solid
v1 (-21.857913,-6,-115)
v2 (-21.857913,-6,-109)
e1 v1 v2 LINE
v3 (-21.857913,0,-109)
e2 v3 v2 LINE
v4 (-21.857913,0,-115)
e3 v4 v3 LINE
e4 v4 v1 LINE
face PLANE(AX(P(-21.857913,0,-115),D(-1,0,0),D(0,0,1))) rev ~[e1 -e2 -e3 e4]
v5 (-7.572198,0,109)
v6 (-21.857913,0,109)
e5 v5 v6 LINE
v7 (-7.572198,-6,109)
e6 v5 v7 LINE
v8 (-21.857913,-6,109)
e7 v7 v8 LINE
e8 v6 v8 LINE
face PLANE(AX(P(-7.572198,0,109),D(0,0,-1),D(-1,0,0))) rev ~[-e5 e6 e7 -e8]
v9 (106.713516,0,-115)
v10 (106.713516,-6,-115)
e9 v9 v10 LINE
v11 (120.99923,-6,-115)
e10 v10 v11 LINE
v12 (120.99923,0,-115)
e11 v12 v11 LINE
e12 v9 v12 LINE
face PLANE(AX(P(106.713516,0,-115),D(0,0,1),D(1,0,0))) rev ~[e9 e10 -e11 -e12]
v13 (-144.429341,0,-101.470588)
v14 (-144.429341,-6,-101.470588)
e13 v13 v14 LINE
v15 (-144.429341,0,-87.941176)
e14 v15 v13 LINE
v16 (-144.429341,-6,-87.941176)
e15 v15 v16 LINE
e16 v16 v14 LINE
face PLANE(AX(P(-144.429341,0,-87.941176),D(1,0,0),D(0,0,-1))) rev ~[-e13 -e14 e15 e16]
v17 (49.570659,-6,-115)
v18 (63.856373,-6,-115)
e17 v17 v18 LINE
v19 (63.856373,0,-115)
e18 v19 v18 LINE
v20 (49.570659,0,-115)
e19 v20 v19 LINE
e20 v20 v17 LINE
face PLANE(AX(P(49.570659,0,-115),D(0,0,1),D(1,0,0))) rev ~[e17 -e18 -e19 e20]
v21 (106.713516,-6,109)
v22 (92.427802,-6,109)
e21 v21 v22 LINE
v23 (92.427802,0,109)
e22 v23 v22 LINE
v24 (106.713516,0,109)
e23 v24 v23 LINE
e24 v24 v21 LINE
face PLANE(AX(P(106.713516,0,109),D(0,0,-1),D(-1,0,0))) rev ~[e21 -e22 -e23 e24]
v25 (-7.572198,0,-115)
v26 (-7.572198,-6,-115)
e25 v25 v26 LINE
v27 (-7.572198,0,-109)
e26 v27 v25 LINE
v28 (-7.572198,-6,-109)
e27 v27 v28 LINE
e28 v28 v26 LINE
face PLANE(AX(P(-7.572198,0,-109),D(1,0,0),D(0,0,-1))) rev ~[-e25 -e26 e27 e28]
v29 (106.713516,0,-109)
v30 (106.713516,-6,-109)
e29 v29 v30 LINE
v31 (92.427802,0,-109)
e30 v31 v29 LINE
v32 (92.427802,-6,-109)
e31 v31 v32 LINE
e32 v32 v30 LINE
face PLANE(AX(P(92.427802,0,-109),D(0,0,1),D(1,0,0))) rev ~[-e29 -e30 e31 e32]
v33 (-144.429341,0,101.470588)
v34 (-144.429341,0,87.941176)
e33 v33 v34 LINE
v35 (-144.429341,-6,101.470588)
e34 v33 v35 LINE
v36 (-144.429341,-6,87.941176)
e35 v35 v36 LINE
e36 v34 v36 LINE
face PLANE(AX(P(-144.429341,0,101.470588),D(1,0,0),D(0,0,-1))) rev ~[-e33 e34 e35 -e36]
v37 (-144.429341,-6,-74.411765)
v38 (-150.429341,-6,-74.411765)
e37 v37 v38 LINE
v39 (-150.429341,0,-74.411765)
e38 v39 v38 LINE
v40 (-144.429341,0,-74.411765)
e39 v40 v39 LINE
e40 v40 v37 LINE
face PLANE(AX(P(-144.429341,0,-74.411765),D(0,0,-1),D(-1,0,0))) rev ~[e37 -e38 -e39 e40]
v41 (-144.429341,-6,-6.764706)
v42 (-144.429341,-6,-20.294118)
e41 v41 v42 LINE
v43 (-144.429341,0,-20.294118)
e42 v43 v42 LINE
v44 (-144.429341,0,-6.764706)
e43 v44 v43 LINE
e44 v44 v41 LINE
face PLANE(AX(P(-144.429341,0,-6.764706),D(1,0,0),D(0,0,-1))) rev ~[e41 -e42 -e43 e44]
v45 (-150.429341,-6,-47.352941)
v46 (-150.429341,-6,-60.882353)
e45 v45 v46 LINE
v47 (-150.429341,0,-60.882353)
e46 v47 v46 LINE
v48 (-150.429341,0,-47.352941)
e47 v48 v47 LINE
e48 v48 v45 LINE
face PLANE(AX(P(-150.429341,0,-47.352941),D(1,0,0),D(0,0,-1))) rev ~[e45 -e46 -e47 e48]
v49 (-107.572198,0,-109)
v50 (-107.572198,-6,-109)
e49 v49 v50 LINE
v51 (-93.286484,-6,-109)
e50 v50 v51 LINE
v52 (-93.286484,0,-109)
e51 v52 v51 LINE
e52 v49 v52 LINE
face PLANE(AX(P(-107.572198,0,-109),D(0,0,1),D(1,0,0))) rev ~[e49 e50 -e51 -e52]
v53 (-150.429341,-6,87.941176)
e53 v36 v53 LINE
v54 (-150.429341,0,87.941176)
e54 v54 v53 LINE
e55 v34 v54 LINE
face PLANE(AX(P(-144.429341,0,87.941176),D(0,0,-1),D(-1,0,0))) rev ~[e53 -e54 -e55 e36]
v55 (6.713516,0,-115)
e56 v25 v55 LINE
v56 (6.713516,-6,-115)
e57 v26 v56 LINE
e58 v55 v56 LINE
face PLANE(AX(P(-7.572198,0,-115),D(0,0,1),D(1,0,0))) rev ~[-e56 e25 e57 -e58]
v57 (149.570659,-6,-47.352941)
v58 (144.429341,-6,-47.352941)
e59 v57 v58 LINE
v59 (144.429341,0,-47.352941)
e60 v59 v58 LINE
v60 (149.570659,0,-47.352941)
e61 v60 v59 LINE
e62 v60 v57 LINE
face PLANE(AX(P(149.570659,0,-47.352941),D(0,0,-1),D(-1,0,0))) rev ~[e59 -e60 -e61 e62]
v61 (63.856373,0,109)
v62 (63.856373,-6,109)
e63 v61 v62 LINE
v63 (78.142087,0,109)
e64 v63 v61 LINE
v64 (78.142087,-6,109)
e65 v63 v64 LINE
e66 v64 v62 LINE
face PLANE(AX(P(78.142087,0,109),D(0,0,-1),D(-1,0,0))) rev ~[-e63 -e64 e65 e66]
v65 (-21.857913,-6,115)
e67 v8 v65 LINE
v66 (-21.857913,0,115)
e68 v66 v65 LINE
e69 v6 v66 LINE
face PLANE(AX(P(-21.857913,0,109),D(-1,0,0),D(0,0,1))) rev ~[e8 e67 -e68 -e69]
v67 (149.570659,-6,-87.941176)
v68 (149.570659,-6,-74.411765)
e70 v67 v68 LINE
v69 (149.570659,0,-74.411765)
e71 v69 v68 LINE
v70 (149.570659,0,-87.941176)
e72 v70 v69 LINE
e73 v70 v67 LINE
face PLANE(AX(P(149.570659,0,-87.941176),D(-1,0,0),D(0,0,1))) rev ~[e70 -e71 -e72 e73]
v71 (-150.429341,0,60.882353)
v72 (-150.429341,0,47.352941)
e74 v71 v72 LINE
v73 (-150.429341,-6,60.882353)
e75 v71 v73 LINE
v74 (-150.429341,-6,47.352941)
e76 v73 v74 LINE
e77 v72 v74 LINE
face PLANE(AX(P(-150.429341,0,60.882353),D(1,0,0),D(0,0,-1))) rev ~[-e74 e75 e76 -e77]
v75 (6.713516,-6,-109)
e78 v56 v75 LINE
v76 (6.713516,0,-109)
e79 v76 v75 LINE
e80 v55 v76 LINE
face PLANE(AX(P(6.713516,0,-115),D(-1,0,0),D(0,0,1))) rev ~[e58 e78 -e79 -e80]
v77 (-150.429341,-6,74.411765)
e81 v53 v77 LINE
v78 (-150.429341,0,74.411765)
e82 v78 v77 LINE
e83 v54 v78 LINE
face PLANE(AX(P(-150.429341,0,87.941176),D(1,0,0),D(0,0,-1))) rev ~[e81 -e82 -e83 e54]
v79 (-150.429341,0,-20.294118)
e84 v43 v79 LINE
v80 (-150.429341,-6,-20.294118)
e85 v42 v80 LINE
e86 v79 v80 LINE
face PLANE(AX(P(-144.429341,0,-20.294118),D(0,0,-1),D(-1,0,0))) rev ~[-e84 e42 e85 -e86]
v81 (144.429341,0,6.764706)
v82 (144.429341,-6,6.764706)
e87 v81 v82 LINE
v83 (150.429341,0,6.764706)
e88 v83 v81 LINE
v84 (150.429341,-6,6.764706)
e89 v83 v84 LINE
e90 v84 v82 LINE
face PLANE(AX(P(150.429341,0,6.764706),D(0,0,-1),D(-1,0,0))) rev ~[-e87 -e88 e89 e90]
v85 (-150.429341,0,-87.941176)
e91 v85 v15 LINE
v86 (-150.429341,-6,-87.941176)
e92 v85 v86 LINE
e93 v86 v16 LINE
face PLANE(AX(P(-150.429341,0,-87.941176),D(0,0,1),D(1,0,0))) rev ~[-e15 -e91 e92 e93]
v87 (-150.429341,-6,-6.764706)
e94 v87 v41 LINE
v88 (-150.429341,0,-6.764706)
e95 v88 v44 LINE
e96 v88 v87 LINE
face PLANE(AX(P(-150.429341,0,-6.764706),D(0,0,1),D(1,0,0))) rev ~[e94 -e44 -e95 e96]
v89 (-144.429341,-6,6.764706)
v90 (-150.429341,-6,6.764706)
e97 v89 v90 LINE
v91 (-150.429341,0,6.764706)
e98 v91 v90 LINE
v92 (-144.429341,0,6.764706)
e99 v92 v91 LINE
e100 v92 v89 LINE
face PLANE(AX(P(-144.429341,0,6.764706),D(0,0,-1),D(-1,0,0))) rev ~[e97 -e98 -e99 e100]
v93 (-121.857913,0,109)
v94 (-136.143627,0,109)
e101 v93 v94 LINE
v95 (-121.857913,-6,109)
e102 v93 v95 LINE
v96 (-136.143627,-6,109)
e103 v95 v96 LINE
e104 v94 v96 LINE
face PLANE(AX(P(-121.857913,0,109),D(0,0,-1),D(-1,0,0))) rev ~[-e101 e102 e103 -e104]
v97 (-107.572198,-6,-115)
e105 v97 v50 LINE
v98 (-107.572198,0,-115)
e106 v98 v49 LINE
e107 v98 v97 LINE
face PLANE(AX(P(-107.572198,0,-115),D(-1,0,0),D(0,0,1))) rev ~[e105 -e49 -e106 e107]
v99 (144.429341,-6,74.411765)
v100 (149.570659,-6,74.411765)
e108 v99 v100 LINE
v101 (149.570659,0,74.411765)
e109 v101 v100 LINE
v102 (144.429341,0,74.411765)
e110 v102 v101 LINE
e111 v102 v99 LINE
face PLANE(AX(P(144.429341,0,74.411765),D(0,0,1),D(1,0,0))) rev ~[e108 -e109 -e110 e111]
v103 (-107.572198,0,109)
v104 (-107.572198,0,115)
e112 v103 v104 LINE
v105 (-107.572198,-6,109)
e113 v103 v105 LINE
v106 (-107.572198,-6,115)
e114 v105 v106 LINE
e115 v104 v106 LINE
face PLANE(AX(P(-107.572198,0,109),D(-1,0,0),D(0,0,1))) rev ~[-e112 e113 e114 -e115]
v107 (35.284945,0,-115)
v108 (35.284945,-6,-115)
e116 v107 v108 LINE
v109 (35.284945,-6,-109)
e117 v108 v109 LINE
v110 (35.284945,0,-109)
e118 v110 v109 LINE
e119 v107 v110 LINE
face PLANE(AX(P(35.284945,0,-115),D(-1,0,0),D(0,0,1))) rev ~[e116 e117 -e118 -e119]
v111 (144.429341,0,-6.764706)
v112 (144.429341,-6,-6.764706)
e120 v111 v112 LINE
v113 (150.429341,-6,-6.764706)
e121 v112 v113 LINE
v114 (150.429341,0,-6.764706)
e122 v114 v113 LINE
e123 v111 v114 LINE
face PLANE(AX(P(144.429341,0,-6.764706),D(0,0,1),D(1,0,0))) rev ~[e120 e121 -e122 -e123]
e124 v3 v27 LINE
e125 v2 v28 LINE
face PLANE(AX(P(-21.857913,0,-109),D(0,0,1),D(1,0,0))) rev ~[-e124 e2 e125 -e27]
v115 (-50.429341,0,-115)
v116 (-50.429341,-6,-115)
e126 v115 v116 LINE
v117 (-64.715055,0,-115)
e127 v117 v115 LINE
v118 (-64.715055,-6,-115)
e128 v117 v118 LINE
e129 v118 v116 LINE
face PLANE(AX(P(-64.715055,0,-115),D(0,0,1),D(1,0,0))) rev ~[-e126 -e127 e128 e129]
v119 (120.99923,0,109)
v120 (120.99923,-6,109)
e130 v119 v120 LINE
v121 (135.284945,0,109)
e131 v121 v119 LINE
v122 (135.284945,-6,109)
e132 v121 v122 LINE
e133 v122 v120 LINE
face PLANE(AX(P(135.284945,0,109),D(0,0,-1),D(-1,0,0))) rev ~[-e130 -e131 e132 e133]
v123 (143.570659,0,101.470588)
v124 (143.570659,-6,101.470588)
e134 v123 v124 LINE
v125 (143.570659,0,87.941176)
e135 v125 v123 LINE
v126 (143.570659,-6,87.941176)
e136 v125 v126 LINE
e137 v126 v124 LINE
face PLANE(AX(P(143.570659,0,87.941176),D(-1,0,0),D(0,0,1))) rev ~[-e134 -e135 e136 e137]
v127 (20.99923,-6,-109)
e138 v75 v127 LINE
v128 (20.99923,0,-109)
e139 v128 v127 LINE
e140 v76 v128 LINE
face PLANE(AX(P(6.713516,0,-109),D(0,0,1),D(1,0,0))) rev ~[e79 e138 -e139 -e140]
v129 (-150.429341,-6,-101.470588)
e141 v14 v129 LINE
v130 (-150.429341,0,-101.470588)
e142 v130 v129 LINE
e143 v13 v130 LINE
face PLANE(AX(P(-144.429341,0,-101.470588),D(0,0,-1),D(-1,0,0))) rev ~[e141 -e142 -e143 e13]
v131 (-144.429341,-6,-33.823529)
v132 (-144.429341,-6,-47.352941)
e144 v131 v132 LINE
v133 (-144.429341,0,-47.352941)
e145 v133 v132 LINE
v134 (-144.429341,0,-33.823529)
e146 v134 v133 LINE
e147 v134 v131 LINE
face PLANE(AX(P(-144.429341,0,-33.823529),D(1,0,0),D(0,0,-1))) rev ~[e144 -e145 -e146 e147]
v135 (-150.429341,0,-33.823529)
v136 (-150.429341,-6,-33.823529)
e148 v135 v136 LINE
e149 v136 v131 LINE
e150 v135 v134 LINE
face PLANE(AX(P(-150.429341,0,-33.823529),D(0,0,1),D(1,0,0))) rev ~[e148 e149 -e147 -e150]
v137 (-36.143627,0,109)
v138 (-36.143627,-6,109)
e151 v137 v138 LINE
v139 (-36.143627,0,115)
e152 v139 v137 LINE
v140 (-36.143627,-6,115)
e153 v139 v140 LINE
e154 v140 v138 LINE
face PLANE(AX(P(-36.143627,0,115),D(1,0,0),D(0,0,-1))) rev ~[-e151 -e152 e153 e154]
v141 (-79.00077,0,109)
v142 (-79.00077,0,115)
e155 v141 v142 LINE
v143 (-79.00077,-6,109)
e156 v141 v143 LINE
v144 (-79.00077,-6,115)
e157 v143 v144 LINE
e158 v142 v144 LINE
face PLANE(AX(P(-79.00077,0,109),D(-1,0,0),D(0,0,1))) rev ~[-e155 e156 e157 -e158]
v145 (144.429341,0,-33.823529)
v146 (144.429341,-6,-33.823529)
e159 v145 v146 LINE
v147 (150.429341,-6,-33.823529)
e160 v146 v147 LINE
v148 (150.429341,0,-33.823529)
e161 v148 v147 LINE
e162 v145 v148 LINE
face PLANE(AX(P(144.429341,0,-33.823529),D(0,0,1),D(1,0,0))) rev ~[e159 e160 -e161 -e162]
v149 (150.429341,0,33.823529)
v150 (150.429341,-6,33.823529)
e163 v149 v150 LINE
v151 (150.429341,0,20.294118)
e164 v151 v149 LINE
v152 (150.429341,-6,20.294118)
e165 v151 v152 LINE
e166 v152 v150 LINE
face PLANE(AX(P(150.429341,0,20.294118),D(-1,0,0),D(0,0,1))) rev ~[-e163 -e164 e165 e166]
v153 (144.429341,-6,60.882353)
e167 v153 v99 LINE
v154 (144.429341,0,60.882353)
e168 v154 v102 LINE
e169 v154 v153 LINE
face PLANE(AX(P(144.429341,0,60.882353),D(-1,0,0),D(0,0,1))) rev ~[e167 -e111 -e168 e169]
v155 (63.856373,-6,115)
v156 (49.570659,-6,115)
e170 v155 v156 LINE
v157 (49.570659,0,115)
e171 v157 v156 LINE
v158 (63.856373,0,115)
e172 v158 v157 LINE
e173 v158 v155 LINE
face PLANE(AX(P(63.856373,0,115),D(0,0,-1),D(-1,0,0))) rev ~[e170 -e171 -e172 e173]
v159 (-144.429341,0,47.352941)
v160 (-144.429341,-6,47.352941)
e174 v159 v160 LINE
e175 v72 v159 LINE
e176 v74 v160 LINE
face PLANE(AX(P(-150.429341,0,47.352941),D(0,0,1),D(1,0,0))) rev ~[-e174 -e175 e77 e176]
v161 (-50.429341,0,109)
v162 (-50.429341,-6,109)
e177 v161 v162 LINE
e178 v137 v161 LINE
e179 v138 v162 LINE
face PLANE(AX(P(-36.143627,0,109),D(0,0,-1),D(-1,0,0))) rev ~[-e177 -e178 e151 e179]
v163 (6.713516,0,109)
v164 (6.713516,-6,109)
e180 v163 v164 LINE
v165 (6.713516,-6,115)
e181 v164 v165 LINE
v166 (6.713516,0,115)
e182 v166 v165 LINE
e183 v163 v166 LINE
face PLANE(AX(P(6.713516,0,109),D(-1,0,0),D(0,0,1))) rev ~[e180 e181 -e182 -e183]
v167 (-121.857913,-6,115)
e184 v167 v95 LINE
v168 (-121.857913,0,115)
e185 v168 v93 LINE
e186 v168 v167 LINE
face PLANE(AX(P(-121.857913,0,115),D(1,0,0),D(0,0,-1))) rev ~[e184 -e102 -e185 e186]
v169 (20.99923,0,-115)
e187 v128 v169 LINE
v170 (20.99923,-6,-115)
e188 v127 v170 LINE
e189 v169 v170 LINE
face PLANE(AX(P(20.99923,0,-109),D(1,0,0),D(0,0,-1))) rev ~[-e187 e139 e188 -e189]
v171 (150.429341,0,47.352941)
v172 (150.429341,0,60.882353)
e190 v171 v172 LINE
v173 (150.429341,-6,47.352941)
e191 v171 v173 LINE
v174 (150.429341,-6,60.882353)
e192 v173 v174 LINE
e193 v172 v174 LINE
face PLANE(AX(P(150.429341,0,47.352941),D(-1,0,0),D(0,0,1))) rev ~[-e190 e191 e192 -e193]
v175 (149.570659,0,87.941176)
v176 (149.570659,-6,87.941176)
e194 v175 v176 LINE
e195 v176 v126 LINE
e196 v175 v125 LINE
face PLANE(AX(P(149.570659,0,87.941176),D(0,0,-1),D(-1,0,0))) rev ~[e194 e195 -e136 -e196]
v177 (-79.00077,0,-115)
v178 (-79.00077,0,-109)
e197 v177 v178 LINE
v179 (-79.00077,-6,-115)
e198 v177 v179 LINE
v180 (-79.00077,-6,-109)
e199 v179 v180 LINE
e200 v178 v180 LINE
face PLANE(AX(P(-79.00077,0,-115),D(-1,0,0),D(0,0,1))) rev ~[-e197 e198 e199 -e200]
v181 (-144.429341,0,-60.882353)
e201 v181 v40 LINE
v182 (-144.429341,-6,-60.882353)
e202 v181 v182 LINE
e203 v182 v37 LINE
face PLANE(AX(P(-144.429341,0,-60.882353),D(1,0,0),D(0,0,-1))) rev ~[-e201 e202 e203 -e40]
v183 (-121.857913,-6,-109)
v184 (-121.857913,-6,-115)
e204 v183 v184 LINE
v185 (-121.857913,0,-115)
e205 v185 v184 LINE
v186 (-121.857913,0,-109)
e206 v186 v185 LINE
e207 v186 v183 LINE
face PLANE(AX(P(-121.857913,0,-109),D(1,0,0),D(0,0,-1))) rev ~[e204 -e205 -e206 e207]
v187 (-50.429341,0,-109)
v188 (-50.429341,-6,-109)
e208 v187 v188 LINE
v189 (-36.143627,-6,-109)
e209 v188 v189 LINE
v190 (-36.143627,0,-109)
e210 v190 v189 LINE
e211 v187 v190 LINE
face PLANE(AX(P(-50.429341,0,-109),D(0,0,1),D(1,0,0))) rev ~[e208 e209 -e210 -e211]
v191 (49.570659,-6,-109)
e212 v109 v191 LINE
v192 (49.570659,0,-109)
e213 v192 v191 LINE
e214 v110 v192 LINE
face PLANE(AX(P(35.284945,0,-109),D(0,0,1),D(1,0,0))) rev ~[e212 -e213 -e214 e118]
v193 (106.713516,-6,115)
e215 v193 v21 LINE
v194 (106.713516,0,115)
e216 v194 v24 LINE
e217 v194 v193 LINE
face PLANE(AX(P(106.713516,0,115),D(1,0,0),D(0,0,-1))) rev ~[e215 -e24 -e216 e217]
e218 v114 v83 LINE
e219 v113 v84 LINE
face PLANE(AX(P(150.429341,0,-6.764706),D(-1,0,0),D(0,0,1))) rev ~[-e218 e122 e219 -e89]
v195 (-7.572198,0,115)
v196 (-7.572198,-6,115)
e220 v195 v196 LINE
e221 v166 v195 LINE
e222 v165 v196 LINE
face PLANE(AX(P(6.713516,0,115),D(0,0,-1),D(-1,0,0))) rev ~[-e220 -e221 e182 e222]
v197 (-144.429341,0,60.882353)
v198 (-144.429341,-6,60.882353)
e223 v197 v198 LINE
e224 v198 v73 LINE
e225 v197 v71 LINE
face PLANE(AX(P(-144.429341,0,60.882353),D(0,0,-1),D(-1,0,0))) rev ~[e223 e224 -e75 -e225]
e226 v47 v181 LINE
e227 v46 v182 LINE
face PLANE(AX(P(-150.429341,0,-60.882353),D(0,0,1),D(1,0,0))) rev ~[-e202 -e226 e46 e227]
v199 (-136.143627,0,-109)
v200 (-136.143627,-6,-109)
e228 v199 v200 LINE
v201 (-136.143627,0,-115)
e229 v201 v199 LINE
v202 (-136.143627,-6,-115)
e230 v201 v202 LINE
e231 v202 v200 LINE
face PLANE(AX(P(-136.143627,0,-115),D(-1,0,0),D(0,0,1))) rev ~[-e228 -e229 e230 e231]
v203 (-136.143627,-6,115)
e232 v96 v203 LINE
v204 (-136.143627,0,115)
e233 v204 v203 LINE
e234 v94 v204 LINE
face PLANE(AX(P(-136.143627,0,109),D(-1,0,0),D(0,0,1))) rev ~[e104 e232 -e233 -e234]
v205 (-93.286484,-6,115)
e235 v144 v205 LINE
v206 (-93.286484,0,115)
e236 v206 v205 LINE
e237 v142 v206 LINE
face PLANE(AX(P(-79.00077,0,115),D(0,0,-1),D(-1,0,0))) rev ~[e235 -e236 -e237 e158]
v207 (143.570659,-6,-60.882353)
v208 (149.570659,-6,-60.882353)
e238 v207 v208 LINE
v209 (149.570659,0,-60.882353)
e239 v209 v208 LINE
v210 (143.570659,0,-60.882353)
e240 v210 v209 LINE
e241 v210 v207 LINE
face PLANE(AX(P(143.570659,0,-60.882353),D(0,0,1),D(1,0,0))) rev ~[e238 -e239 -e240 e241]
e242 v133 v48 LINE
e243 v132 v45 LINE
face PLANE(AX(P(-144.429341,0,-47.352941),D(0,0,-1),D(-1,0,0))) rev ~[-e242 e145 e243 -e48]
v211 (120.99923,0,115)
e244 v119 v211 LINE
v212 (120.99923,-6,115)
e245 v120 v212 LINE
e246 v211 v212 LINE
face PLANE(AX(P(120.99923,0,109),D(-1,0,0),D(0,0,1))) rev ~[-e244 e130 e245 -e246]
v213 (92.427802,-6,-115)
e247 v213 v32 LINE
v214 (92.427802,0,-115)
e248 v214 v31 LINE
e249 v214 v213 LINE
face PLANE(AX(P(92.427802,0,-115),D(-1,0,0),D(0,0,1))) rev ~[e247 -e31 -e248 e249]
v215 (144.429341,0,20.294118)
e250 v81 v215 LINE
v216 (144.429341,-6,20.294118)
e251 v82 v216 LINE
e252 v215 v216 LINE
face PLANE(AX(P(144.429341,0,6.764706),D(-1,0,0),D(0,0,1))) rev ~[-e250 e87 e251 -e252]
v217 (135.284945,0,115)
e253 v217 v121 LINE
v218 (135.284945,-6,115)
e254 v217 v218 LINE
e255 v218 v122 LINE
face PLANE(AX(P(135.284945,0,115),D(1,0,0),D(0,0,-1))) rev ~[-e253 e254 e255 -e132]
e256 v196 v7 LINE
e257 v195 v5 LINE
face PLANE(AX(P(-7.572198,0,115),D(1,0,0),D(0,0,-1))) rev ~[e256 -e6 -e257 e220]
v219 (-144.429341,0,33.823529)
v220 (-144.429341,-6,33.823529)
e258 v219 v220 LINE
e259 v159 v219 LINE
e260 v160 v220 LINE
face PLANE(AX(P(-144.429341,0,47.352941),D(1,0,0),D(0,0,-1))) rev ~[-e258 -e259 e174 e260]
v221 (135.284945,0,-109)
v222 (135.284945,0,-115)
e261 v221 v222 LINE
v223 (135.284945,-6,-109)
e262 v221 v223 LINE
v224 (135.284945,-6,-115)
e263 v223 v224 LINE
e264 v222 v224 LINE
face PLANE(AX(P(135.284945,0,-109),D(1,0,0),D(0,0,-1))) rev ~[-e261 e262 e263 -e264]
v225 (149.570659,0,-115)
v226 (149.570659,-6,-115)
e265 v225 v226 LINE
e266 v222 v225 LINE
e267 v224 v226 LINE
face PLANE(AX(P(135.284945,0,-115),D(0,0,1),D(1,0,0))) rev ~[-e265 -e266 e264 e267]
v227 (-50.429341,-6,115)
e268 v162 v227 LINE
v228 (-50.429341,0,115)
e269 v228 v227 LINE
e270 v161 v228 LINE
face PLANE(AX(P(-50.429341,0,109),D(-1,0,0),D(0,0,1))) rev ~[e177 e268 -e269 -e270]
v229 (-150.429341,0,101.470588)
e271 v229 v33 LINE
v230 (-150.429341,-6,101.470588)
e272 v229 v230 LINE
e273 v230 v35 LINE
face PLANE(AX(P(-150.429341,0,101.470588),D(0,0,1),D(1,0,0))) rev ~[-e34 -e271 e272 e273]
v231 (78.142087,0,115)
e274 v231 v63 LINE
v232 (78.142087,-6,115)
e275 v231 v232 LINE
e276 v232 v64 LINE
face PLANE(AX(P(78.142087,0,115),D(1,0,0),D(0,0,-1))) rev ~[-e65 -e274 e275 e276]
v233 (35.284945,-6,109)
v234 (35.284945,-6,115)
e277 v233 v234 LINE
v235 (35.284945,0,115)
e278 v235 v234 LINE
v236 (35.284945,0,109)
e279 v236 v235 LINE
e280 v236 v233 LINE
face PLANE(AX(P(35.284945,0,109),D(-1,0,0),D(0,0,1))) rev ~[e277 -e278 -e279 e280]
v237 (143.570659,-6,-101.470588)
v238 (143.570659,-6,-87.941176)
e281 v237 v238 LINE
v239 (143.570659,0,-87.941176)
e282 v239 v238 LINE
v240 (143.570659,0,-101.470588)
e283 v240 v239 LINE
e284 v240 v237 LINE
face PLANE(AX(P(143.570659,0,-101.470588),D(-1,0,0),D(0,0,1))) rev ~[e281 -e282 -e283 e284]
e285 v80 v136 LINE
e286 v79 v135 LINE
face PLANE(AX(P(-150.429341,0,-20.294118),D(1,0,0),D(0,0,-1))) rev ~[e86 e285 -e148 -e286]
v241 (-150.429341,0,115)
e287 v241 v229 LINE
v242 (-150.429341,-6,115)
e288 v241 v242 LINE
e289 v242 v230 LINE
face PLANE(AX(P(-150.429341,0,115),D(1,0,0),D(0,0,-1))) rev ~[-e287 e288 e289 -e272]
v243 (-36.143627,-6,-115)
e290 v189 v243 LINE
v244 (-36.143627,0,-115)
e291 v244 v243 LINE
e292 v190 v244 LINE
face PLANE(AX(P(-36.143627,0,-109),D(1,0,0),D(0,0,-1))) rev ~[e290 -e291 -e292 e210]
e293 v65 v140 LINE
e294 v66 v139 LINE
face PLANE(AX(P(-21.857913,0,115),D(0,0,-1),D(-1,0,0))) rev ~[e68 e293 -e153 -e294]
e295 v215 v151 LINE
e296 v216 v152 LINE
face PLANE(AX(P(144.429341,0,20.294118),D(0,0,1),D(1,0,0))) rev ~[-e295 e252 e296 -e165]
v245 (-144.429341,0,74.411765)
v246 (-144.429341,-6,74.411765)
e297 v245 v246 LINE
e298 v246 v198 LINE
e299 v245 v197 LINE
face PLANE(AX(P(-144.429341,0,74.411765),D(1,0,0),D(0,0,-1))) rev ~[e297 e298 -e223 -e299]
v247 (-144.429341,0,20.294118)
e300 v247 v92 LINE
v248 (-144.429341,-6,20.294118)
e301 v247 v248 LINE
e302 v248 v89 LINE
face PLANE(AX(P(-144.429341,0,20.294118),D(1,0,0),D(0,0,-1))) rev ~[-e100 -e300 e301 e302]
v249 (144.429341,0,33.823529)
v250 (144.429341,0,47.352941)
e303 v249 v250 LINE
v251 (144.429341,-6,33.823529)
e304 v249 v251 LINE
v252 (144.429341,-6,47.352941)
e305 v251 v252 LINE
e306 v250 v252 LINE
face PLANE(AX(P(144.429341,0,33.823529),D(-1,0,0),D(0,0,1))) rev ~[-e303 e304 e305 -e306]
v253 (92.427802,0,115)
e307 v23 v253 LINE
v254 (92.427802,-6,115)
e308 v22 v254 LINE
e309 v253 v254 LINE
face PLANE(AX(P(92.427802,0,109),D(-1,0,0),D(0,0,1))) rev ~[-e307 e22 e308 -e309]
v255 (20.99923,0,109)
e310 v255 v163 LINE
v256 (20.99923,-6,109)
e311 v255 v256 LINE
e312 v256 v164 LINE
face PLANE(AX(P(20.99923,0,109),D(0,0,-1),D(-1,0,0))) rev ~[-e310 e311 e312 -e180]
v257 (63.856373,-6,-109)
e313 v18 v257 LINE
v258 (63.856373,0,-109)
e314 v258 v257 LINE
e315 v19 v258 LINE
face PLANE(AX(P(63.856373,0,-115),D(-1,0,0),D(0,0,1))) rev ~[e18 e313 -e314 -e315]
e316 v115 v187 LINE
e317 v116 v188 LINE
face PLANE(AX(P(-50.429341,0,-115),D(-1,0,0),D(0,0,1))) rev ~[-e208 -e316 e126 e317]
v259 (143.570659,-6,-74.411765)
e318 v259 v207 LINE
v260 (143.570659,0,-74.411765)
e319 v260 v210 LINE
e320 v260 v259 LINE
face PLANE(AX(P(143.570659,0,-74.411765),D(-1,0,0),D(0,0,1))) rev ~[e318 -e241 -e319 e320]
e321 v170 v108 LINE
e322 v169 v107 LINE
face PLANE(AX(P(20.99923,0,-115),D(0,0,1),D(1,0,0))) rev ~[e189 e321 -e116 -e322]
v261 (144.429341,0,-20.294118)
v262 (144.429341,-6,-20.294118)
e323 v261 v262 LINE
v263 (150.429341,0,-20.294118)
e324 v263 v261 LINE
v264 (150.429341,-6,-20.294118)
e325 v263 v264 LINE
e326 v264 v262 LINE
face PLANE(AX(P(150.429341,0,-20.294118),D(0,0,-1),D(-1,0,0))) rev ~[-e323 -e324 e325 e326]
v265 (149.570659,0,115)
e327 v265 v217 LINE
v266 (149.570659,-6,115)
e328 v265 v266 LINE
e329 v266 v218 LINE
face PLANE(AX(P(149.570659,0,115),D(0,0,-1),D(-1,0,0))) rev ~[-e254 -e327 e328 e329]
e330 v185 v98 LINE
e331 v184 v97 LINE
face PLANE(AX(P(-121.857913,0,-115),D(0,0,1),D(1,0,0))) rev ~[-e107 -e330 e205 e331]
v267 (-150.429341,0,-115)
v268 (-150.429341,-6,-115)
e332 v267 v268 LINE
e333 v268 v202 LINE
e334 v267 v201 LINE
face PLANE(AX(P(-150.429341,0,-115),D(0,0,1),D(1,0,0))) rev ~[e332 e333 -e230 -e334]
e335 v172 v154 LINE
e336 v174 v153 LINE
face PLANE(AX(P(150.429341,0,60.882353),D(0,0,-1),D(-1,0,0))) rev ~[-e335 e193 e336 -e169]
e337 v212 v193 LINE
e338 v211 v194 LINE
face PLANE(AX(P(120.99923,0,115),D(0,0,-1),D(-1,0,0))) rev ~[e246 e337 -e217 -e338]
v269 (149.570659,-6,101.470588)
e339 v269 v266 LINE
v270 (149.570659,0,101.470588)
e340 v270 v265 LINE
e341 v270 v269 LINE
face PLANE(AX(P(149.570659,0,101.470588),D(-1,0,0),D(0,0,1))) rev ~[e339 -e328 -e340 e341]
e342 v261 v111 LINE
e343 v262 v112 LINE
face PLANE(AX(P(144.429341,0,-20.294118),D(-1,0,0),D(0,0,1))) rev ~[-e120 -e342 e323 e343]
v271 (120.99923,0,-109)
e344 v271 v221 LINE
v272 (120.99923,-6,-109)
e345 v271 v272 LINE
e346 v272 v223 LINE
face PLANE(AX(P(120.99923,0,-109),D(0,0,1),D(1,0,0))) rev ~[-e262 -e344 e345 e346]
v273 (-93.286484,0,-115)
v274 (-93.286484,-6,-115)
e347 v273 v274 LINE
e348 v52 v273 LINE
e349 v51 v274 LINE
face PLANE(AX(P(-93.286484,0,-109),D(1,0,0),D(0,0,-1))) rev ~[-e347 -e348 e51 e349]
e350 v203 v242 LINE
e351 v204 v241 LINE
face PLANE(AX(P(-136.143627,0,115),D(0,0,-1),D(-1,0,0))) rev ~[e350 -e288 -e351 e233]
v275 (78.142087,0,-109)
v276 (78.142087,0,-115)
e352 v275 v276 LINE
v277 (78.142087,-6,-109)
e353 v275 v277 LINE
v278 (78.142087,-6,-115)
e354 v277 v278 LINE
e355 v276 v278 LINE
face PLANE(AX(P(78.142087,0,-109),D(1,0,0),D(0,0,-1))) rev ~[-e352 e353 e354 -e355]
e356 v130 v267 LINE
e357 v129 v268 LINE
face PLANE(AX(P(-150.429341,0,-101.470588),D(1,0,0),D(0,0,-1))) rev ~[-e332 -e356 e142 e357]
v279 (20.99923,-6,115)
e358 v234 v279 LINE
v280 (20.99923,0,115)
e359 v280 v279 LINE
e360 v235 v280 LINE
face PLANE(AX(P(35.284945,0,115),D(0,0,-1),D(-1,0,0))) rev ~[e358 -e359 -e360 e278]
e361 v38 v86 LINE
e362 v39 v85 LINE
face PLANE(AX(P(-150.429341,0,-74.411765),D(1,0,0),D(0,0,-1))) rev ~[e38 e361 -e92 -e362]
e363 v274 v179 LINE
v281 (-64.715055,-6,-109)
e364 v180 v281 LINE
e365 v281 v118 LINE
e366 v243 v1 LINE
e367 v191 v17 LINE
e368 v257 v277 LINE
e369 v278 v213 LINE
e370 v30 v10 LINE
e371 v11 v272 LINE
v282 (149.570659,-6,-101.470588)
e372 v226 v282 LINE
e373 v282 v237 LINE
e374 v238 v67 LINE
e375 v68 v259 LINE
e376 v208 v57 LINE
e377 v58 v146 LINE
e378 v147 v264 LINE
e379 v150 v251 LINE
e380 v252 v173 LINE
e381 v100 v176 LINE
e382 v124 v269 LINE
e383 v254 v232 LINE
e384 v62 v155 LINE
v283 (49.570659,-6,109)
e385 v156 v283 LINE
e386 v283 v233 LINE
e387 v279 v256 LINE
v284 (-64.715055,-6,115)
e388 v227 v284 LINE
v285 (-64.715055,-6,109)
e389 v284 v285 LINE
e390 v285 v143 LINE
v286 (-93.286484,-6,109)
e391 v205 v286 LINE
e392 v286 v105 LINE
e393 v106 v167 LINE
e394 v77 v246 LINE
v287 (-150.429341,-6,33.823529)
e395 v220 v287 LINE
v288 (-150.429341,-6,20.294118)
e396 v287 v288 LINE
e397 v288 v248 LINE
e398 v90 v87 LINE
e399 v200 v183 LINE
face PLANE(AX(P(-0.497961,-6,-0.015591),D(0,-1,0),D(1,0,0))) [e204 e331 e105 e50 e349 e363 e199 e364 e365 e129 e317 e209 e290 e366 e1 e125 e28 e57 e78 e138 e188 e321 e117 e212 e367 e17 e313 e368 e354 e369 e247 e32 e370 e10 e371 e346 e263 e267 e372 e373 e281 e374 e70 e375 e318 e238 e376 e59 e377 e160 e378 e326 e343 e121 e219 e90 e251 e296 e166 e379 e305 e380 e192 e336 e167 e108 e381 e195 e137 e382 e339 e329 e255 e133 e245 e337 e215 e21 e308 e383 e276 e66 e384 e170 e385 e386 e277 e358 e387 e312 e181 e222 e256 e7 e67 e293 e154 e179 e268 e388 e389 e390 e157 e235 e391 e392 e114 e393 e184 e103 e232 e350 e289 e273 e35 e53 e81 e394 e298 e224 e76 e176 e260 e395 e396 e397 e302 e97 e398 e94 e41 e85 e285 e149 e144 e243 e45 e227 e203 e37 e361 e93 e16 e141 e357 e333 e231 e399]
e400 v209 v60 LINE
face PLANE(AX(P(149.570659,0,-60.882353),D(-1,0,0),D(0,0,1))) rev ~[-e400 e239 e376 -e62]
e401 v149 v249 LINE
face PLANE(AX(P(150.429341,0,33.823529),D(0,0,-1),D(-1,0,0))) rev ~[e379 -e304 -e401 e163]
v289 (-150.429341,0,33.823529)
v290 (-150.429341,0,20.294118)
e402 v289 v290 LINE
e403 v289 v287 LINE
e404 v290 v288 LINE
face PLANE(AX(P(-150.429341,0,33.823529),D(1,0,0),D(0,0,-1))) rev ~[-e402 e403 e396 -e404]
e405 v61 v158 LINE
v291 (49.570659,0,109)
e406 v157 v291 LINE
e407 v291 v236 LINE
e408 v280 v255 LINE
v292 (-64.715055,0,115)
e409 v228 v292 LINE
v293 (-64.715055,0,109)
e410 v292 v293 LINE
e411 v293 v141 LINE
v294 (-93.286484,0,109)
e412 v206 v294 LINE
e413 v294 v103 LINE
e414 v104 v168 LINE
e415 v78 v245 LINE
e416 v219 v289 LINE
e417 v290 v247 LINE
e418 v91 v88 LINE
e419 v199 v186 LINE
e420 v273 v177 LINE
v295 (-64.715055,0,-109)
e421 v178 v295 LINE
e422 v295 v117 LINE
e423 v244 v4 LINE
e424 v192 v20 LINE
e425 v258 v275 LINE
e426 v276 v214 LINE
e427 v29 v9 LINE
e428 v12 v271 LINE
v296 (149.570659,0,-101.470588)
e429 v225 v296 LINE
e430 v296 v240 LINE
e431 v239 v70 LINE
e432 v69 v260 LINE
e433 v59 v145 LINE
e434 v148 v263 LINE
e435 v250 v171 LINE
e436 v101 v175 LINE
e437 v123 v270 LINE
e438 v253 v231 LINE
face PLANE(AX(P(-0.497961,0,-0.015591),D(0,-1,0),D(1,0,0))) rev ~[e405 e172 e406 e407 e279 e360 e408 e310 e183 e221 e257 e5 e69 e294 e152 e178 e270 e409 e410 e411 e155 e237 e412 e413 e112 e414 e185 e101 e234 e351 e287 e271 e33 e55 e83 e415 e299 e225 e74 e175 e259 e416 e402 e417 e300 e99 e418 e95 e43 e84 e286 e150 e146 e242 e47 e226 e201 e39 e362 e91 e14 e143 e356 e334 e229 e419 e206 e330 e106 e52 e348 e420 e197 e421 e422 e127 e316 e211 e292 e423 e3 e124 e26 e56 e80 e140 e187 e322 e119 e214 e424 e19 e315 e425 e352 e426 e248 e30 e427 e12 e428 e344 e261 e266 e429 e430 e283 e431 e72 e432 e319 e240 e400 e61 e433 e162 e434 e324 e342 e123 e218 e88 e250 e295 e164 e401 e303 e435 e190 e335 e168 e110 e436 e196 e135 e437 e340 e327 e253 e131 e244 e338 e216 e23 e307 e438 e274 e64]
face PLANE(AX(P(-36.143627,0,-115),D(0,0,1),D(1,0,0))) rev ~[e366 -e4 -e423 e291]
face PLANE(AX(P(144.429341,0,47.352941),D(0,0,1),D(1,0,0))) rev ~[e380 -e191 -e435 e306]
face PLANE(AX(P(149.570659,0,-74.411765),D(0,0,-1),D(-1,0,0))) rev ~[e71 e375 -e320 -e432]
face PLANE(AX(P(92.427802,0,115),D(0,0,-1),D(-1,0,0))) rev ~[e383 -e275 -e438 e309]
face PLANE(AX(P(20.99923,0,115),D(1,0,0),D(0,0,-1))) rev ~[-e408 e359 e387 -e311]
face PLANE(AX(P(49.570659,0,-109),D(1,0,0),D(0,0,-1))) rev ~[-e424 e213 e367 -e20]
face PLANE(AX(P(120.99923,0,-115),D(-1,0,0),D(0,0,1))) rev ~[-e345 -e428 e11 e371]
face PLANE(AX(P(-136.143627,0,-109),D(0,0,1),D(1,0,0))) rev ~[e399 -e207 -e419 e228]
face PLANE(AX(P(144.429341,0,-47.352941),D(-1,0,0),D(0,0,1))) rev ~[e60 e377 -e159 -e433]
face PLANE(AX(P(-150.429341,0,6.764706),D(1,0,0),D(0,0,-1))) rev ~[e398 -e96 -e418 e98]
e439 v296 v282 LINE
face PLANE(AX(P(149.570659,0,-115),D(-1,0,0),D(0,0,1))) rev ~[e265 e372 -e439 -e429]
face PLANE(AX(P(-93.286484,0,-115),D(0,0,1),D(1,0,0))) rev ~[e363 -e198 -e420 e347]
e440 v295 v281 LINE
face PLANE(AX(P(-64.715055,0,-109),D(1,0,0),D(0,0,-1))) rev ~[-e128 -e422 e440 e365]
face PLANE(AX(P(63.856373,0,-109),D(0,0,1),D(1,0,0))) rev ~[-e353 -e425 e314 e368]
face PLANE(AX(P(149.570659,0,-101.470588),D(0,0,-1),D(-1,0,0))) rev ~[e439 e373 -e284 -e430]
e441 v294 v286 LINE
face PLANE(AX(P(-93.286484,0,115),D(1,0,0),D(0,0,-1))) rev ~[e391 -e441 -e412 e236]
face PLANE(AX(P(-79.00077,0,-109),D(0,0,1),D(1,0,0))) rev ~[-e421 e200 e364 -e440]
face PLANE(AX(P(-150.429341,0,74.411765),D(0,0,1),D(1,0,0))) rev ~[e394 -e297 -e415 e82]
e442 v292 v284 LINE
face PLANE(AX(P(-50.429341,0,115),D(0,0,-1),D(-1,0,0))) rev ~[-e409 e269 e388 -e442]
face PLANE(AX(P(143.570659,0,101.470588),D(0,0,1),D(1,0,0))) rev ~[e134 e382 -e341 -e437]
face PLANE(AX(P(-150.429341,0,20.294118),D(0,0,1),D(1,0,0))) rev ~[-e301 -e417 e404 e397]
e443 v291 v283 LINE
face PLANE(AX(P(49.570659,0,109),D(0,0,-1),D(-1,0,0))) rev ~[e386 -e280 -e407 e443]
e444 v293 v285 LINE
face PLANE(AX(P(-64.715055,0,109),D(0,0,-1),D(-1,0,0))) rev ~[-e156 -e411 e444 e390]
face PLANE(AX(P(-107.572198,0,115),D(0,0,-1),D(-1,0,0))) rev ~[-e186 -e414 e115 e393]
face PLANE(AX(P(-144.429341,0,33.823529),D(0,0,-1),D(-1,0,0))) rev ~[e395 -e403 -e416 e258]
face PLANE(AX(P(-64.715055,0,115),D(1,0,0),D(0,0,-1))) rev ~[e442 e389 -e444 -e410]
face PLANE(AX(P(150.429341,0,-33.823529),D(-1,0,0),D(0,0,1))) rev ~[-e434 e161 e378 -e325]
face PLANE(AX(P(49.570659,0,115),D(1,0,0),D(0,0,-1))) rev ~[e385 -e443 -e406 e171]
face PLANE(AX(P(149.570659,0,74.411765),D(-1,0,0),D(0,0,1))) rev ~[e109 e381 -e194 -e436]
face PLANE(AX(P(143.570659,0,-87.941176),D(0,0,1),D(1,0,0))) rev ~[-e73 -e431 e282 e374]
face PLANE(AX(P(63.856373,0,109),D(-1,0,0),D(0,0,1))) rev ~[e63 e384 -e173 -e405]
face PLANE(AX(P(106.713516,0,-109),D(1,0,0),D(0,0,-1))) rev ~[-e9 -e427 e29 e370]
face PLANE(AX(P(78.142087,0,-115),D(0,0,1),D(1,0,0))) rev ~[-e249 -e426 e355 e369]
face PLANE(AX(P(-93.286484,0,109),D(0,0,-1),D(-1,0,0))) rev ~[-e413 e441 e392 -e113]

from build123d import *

# Parameters (mm, degrees)
F1_DEPTH = 6


with BuildPart() as f1:
    # F0 (on Front) → F1 (new body)
    with BuildSketch(Plane.XZ):
        Polygon((-136.143627, 115), (-150.429341, 115), (-150.429341, 101.470588), (-144.429341, 101.470588), (-144.429341, 87.941176), (-150.429341, 87.941176), (-150.429341, 74.411765), (-144.429341, 74.411765), (-144.429341, 60.882353), (-150.429341, 60.882353), (-150.429341, 47.352941), (-144.429341, 47.352941), (-144.429341, 33.823529), (-150.429341, 33.823529), (-150.429341, 20.294118), (-144.429341, 20.294118), (-144.429341, 6.764706), (-150.429341, 6.764706), (-150.429341, -6.764706), (-144.429341, -6.764706), (-144.429341, -20.294118), (-150.429341, -20.294118), (-150.429341, -33.823529), (-144.429341, -33.823529), (-144.429341, -47.352941), (-150.429341, -47.352941), (-150.429341, -60.882353), (-144.429341, -60.882353), (-144.429341, -74.411765), (-150.429341, -74.411765), (-150.429341, -87.941176), (-144.429341, -87.941176), (-144.429341, -101.470588), (-150.429341, -101.470588), (-150.429341, -115), (-136.143627, -115), (-136.143627, -109), (-121.857913, -109), (-121.857913, -115), (-107.572198, -115), (-107.572198, -109), (-93.286484, -109), (-93.286484, -115), (-79.00077, -115), (-79.00077, -109), (-64.715055, -109), (-64.715055, -115), (-50.429341, -115), (-50.429341, -109), (-36.143627, -109), (-36.143627, -115), (-21.857913, -115), (-21.857913, -109), (-7.572198, -109), (-7.572198, -115), (6.713516, -115), (6.713516, -109), (20.99923, -109), (20.99923, -115), (35.284945, -115), (35.284945, -109), (49.570659, -109), (49.570659, -115), (63.856373, -115), (63.856373, -109), (78.142087, -109), (78.142087, -115), (92.427802, -115), (92.427802, -109), (106.713516, -109), (106.713516, -115), (120.99923, -115), (120.99923, -109), (135.284945, -109), (135.284945, -115), (149.570659, -115), (149.570659, -101.470588), (143.570659, -101.470588), (143.570659, -87.941176), (149.570659, -87.941176), (149.570659, -74.411765), (143.570659, -74.411765), (143.570659, -60.882353), (149.570659, -60.882353), (149.570659, -47.352941), (144.429341, -47.352941), (144.429341, -33.823529), (150.429341, -33.823529), (150.429341, -20.294118), (144.429341, -20.294118), (144.429341, -6.764706), (150.429341, -6.764706), (150.429341, 6.764706), (144.429341, 6.764706), (144.429341, 20.294118), (150.429341, 20.294118), (150.429341, 33.823529), (144.429341, 33.823529), (144.429341, 47.352941), (150.429341, 47.352941), (150.429341, 60.882353), (144.429341, 60.882353), (144.429341, 74.411765), (149.570659, 74.411765), (149.570659, 87.941176), (143.570659, 87.941176), (143.570659, 101.470588), (149.570659, 101.470588), (149.570659, 115), (135.284945, 115), (135.284945, 109), (120.99923, 109), (120.99923, 115), (106.713516, 115), (106.713516, 109), (92.427802, 109), (92.427802, 115), (78.142087, 115), (78.142087, 109), (63.856373, 109), (63.856373, 115), (49.570659, 115), (49.570659, 109), (35.284945, 109), (35.284945, 115), (20.99923, 115), (20.99923, 109), (6.713516, 109), (6.713516, 115), (-7.572198, 115), (-7.572198, 109), (-21.857913, 109), (-21.857913, 115), (-36.143627, 115), (-36.143627, 109), (-50.429341, 109), (-50.429341, 115), (-64.715055, 115), (-64.715055, 109), (-79.00077, 109), (-79.00077, 115), (-93.286484, 115), (-93.286484, 109), (-107.572198, 109), (-107.572198, 115), (-121.857913, 115), (-121.857913, 109), (-136.143627, 109), align=None)
    extrude(amount=F1_DEPTH)


solid = f1.part
